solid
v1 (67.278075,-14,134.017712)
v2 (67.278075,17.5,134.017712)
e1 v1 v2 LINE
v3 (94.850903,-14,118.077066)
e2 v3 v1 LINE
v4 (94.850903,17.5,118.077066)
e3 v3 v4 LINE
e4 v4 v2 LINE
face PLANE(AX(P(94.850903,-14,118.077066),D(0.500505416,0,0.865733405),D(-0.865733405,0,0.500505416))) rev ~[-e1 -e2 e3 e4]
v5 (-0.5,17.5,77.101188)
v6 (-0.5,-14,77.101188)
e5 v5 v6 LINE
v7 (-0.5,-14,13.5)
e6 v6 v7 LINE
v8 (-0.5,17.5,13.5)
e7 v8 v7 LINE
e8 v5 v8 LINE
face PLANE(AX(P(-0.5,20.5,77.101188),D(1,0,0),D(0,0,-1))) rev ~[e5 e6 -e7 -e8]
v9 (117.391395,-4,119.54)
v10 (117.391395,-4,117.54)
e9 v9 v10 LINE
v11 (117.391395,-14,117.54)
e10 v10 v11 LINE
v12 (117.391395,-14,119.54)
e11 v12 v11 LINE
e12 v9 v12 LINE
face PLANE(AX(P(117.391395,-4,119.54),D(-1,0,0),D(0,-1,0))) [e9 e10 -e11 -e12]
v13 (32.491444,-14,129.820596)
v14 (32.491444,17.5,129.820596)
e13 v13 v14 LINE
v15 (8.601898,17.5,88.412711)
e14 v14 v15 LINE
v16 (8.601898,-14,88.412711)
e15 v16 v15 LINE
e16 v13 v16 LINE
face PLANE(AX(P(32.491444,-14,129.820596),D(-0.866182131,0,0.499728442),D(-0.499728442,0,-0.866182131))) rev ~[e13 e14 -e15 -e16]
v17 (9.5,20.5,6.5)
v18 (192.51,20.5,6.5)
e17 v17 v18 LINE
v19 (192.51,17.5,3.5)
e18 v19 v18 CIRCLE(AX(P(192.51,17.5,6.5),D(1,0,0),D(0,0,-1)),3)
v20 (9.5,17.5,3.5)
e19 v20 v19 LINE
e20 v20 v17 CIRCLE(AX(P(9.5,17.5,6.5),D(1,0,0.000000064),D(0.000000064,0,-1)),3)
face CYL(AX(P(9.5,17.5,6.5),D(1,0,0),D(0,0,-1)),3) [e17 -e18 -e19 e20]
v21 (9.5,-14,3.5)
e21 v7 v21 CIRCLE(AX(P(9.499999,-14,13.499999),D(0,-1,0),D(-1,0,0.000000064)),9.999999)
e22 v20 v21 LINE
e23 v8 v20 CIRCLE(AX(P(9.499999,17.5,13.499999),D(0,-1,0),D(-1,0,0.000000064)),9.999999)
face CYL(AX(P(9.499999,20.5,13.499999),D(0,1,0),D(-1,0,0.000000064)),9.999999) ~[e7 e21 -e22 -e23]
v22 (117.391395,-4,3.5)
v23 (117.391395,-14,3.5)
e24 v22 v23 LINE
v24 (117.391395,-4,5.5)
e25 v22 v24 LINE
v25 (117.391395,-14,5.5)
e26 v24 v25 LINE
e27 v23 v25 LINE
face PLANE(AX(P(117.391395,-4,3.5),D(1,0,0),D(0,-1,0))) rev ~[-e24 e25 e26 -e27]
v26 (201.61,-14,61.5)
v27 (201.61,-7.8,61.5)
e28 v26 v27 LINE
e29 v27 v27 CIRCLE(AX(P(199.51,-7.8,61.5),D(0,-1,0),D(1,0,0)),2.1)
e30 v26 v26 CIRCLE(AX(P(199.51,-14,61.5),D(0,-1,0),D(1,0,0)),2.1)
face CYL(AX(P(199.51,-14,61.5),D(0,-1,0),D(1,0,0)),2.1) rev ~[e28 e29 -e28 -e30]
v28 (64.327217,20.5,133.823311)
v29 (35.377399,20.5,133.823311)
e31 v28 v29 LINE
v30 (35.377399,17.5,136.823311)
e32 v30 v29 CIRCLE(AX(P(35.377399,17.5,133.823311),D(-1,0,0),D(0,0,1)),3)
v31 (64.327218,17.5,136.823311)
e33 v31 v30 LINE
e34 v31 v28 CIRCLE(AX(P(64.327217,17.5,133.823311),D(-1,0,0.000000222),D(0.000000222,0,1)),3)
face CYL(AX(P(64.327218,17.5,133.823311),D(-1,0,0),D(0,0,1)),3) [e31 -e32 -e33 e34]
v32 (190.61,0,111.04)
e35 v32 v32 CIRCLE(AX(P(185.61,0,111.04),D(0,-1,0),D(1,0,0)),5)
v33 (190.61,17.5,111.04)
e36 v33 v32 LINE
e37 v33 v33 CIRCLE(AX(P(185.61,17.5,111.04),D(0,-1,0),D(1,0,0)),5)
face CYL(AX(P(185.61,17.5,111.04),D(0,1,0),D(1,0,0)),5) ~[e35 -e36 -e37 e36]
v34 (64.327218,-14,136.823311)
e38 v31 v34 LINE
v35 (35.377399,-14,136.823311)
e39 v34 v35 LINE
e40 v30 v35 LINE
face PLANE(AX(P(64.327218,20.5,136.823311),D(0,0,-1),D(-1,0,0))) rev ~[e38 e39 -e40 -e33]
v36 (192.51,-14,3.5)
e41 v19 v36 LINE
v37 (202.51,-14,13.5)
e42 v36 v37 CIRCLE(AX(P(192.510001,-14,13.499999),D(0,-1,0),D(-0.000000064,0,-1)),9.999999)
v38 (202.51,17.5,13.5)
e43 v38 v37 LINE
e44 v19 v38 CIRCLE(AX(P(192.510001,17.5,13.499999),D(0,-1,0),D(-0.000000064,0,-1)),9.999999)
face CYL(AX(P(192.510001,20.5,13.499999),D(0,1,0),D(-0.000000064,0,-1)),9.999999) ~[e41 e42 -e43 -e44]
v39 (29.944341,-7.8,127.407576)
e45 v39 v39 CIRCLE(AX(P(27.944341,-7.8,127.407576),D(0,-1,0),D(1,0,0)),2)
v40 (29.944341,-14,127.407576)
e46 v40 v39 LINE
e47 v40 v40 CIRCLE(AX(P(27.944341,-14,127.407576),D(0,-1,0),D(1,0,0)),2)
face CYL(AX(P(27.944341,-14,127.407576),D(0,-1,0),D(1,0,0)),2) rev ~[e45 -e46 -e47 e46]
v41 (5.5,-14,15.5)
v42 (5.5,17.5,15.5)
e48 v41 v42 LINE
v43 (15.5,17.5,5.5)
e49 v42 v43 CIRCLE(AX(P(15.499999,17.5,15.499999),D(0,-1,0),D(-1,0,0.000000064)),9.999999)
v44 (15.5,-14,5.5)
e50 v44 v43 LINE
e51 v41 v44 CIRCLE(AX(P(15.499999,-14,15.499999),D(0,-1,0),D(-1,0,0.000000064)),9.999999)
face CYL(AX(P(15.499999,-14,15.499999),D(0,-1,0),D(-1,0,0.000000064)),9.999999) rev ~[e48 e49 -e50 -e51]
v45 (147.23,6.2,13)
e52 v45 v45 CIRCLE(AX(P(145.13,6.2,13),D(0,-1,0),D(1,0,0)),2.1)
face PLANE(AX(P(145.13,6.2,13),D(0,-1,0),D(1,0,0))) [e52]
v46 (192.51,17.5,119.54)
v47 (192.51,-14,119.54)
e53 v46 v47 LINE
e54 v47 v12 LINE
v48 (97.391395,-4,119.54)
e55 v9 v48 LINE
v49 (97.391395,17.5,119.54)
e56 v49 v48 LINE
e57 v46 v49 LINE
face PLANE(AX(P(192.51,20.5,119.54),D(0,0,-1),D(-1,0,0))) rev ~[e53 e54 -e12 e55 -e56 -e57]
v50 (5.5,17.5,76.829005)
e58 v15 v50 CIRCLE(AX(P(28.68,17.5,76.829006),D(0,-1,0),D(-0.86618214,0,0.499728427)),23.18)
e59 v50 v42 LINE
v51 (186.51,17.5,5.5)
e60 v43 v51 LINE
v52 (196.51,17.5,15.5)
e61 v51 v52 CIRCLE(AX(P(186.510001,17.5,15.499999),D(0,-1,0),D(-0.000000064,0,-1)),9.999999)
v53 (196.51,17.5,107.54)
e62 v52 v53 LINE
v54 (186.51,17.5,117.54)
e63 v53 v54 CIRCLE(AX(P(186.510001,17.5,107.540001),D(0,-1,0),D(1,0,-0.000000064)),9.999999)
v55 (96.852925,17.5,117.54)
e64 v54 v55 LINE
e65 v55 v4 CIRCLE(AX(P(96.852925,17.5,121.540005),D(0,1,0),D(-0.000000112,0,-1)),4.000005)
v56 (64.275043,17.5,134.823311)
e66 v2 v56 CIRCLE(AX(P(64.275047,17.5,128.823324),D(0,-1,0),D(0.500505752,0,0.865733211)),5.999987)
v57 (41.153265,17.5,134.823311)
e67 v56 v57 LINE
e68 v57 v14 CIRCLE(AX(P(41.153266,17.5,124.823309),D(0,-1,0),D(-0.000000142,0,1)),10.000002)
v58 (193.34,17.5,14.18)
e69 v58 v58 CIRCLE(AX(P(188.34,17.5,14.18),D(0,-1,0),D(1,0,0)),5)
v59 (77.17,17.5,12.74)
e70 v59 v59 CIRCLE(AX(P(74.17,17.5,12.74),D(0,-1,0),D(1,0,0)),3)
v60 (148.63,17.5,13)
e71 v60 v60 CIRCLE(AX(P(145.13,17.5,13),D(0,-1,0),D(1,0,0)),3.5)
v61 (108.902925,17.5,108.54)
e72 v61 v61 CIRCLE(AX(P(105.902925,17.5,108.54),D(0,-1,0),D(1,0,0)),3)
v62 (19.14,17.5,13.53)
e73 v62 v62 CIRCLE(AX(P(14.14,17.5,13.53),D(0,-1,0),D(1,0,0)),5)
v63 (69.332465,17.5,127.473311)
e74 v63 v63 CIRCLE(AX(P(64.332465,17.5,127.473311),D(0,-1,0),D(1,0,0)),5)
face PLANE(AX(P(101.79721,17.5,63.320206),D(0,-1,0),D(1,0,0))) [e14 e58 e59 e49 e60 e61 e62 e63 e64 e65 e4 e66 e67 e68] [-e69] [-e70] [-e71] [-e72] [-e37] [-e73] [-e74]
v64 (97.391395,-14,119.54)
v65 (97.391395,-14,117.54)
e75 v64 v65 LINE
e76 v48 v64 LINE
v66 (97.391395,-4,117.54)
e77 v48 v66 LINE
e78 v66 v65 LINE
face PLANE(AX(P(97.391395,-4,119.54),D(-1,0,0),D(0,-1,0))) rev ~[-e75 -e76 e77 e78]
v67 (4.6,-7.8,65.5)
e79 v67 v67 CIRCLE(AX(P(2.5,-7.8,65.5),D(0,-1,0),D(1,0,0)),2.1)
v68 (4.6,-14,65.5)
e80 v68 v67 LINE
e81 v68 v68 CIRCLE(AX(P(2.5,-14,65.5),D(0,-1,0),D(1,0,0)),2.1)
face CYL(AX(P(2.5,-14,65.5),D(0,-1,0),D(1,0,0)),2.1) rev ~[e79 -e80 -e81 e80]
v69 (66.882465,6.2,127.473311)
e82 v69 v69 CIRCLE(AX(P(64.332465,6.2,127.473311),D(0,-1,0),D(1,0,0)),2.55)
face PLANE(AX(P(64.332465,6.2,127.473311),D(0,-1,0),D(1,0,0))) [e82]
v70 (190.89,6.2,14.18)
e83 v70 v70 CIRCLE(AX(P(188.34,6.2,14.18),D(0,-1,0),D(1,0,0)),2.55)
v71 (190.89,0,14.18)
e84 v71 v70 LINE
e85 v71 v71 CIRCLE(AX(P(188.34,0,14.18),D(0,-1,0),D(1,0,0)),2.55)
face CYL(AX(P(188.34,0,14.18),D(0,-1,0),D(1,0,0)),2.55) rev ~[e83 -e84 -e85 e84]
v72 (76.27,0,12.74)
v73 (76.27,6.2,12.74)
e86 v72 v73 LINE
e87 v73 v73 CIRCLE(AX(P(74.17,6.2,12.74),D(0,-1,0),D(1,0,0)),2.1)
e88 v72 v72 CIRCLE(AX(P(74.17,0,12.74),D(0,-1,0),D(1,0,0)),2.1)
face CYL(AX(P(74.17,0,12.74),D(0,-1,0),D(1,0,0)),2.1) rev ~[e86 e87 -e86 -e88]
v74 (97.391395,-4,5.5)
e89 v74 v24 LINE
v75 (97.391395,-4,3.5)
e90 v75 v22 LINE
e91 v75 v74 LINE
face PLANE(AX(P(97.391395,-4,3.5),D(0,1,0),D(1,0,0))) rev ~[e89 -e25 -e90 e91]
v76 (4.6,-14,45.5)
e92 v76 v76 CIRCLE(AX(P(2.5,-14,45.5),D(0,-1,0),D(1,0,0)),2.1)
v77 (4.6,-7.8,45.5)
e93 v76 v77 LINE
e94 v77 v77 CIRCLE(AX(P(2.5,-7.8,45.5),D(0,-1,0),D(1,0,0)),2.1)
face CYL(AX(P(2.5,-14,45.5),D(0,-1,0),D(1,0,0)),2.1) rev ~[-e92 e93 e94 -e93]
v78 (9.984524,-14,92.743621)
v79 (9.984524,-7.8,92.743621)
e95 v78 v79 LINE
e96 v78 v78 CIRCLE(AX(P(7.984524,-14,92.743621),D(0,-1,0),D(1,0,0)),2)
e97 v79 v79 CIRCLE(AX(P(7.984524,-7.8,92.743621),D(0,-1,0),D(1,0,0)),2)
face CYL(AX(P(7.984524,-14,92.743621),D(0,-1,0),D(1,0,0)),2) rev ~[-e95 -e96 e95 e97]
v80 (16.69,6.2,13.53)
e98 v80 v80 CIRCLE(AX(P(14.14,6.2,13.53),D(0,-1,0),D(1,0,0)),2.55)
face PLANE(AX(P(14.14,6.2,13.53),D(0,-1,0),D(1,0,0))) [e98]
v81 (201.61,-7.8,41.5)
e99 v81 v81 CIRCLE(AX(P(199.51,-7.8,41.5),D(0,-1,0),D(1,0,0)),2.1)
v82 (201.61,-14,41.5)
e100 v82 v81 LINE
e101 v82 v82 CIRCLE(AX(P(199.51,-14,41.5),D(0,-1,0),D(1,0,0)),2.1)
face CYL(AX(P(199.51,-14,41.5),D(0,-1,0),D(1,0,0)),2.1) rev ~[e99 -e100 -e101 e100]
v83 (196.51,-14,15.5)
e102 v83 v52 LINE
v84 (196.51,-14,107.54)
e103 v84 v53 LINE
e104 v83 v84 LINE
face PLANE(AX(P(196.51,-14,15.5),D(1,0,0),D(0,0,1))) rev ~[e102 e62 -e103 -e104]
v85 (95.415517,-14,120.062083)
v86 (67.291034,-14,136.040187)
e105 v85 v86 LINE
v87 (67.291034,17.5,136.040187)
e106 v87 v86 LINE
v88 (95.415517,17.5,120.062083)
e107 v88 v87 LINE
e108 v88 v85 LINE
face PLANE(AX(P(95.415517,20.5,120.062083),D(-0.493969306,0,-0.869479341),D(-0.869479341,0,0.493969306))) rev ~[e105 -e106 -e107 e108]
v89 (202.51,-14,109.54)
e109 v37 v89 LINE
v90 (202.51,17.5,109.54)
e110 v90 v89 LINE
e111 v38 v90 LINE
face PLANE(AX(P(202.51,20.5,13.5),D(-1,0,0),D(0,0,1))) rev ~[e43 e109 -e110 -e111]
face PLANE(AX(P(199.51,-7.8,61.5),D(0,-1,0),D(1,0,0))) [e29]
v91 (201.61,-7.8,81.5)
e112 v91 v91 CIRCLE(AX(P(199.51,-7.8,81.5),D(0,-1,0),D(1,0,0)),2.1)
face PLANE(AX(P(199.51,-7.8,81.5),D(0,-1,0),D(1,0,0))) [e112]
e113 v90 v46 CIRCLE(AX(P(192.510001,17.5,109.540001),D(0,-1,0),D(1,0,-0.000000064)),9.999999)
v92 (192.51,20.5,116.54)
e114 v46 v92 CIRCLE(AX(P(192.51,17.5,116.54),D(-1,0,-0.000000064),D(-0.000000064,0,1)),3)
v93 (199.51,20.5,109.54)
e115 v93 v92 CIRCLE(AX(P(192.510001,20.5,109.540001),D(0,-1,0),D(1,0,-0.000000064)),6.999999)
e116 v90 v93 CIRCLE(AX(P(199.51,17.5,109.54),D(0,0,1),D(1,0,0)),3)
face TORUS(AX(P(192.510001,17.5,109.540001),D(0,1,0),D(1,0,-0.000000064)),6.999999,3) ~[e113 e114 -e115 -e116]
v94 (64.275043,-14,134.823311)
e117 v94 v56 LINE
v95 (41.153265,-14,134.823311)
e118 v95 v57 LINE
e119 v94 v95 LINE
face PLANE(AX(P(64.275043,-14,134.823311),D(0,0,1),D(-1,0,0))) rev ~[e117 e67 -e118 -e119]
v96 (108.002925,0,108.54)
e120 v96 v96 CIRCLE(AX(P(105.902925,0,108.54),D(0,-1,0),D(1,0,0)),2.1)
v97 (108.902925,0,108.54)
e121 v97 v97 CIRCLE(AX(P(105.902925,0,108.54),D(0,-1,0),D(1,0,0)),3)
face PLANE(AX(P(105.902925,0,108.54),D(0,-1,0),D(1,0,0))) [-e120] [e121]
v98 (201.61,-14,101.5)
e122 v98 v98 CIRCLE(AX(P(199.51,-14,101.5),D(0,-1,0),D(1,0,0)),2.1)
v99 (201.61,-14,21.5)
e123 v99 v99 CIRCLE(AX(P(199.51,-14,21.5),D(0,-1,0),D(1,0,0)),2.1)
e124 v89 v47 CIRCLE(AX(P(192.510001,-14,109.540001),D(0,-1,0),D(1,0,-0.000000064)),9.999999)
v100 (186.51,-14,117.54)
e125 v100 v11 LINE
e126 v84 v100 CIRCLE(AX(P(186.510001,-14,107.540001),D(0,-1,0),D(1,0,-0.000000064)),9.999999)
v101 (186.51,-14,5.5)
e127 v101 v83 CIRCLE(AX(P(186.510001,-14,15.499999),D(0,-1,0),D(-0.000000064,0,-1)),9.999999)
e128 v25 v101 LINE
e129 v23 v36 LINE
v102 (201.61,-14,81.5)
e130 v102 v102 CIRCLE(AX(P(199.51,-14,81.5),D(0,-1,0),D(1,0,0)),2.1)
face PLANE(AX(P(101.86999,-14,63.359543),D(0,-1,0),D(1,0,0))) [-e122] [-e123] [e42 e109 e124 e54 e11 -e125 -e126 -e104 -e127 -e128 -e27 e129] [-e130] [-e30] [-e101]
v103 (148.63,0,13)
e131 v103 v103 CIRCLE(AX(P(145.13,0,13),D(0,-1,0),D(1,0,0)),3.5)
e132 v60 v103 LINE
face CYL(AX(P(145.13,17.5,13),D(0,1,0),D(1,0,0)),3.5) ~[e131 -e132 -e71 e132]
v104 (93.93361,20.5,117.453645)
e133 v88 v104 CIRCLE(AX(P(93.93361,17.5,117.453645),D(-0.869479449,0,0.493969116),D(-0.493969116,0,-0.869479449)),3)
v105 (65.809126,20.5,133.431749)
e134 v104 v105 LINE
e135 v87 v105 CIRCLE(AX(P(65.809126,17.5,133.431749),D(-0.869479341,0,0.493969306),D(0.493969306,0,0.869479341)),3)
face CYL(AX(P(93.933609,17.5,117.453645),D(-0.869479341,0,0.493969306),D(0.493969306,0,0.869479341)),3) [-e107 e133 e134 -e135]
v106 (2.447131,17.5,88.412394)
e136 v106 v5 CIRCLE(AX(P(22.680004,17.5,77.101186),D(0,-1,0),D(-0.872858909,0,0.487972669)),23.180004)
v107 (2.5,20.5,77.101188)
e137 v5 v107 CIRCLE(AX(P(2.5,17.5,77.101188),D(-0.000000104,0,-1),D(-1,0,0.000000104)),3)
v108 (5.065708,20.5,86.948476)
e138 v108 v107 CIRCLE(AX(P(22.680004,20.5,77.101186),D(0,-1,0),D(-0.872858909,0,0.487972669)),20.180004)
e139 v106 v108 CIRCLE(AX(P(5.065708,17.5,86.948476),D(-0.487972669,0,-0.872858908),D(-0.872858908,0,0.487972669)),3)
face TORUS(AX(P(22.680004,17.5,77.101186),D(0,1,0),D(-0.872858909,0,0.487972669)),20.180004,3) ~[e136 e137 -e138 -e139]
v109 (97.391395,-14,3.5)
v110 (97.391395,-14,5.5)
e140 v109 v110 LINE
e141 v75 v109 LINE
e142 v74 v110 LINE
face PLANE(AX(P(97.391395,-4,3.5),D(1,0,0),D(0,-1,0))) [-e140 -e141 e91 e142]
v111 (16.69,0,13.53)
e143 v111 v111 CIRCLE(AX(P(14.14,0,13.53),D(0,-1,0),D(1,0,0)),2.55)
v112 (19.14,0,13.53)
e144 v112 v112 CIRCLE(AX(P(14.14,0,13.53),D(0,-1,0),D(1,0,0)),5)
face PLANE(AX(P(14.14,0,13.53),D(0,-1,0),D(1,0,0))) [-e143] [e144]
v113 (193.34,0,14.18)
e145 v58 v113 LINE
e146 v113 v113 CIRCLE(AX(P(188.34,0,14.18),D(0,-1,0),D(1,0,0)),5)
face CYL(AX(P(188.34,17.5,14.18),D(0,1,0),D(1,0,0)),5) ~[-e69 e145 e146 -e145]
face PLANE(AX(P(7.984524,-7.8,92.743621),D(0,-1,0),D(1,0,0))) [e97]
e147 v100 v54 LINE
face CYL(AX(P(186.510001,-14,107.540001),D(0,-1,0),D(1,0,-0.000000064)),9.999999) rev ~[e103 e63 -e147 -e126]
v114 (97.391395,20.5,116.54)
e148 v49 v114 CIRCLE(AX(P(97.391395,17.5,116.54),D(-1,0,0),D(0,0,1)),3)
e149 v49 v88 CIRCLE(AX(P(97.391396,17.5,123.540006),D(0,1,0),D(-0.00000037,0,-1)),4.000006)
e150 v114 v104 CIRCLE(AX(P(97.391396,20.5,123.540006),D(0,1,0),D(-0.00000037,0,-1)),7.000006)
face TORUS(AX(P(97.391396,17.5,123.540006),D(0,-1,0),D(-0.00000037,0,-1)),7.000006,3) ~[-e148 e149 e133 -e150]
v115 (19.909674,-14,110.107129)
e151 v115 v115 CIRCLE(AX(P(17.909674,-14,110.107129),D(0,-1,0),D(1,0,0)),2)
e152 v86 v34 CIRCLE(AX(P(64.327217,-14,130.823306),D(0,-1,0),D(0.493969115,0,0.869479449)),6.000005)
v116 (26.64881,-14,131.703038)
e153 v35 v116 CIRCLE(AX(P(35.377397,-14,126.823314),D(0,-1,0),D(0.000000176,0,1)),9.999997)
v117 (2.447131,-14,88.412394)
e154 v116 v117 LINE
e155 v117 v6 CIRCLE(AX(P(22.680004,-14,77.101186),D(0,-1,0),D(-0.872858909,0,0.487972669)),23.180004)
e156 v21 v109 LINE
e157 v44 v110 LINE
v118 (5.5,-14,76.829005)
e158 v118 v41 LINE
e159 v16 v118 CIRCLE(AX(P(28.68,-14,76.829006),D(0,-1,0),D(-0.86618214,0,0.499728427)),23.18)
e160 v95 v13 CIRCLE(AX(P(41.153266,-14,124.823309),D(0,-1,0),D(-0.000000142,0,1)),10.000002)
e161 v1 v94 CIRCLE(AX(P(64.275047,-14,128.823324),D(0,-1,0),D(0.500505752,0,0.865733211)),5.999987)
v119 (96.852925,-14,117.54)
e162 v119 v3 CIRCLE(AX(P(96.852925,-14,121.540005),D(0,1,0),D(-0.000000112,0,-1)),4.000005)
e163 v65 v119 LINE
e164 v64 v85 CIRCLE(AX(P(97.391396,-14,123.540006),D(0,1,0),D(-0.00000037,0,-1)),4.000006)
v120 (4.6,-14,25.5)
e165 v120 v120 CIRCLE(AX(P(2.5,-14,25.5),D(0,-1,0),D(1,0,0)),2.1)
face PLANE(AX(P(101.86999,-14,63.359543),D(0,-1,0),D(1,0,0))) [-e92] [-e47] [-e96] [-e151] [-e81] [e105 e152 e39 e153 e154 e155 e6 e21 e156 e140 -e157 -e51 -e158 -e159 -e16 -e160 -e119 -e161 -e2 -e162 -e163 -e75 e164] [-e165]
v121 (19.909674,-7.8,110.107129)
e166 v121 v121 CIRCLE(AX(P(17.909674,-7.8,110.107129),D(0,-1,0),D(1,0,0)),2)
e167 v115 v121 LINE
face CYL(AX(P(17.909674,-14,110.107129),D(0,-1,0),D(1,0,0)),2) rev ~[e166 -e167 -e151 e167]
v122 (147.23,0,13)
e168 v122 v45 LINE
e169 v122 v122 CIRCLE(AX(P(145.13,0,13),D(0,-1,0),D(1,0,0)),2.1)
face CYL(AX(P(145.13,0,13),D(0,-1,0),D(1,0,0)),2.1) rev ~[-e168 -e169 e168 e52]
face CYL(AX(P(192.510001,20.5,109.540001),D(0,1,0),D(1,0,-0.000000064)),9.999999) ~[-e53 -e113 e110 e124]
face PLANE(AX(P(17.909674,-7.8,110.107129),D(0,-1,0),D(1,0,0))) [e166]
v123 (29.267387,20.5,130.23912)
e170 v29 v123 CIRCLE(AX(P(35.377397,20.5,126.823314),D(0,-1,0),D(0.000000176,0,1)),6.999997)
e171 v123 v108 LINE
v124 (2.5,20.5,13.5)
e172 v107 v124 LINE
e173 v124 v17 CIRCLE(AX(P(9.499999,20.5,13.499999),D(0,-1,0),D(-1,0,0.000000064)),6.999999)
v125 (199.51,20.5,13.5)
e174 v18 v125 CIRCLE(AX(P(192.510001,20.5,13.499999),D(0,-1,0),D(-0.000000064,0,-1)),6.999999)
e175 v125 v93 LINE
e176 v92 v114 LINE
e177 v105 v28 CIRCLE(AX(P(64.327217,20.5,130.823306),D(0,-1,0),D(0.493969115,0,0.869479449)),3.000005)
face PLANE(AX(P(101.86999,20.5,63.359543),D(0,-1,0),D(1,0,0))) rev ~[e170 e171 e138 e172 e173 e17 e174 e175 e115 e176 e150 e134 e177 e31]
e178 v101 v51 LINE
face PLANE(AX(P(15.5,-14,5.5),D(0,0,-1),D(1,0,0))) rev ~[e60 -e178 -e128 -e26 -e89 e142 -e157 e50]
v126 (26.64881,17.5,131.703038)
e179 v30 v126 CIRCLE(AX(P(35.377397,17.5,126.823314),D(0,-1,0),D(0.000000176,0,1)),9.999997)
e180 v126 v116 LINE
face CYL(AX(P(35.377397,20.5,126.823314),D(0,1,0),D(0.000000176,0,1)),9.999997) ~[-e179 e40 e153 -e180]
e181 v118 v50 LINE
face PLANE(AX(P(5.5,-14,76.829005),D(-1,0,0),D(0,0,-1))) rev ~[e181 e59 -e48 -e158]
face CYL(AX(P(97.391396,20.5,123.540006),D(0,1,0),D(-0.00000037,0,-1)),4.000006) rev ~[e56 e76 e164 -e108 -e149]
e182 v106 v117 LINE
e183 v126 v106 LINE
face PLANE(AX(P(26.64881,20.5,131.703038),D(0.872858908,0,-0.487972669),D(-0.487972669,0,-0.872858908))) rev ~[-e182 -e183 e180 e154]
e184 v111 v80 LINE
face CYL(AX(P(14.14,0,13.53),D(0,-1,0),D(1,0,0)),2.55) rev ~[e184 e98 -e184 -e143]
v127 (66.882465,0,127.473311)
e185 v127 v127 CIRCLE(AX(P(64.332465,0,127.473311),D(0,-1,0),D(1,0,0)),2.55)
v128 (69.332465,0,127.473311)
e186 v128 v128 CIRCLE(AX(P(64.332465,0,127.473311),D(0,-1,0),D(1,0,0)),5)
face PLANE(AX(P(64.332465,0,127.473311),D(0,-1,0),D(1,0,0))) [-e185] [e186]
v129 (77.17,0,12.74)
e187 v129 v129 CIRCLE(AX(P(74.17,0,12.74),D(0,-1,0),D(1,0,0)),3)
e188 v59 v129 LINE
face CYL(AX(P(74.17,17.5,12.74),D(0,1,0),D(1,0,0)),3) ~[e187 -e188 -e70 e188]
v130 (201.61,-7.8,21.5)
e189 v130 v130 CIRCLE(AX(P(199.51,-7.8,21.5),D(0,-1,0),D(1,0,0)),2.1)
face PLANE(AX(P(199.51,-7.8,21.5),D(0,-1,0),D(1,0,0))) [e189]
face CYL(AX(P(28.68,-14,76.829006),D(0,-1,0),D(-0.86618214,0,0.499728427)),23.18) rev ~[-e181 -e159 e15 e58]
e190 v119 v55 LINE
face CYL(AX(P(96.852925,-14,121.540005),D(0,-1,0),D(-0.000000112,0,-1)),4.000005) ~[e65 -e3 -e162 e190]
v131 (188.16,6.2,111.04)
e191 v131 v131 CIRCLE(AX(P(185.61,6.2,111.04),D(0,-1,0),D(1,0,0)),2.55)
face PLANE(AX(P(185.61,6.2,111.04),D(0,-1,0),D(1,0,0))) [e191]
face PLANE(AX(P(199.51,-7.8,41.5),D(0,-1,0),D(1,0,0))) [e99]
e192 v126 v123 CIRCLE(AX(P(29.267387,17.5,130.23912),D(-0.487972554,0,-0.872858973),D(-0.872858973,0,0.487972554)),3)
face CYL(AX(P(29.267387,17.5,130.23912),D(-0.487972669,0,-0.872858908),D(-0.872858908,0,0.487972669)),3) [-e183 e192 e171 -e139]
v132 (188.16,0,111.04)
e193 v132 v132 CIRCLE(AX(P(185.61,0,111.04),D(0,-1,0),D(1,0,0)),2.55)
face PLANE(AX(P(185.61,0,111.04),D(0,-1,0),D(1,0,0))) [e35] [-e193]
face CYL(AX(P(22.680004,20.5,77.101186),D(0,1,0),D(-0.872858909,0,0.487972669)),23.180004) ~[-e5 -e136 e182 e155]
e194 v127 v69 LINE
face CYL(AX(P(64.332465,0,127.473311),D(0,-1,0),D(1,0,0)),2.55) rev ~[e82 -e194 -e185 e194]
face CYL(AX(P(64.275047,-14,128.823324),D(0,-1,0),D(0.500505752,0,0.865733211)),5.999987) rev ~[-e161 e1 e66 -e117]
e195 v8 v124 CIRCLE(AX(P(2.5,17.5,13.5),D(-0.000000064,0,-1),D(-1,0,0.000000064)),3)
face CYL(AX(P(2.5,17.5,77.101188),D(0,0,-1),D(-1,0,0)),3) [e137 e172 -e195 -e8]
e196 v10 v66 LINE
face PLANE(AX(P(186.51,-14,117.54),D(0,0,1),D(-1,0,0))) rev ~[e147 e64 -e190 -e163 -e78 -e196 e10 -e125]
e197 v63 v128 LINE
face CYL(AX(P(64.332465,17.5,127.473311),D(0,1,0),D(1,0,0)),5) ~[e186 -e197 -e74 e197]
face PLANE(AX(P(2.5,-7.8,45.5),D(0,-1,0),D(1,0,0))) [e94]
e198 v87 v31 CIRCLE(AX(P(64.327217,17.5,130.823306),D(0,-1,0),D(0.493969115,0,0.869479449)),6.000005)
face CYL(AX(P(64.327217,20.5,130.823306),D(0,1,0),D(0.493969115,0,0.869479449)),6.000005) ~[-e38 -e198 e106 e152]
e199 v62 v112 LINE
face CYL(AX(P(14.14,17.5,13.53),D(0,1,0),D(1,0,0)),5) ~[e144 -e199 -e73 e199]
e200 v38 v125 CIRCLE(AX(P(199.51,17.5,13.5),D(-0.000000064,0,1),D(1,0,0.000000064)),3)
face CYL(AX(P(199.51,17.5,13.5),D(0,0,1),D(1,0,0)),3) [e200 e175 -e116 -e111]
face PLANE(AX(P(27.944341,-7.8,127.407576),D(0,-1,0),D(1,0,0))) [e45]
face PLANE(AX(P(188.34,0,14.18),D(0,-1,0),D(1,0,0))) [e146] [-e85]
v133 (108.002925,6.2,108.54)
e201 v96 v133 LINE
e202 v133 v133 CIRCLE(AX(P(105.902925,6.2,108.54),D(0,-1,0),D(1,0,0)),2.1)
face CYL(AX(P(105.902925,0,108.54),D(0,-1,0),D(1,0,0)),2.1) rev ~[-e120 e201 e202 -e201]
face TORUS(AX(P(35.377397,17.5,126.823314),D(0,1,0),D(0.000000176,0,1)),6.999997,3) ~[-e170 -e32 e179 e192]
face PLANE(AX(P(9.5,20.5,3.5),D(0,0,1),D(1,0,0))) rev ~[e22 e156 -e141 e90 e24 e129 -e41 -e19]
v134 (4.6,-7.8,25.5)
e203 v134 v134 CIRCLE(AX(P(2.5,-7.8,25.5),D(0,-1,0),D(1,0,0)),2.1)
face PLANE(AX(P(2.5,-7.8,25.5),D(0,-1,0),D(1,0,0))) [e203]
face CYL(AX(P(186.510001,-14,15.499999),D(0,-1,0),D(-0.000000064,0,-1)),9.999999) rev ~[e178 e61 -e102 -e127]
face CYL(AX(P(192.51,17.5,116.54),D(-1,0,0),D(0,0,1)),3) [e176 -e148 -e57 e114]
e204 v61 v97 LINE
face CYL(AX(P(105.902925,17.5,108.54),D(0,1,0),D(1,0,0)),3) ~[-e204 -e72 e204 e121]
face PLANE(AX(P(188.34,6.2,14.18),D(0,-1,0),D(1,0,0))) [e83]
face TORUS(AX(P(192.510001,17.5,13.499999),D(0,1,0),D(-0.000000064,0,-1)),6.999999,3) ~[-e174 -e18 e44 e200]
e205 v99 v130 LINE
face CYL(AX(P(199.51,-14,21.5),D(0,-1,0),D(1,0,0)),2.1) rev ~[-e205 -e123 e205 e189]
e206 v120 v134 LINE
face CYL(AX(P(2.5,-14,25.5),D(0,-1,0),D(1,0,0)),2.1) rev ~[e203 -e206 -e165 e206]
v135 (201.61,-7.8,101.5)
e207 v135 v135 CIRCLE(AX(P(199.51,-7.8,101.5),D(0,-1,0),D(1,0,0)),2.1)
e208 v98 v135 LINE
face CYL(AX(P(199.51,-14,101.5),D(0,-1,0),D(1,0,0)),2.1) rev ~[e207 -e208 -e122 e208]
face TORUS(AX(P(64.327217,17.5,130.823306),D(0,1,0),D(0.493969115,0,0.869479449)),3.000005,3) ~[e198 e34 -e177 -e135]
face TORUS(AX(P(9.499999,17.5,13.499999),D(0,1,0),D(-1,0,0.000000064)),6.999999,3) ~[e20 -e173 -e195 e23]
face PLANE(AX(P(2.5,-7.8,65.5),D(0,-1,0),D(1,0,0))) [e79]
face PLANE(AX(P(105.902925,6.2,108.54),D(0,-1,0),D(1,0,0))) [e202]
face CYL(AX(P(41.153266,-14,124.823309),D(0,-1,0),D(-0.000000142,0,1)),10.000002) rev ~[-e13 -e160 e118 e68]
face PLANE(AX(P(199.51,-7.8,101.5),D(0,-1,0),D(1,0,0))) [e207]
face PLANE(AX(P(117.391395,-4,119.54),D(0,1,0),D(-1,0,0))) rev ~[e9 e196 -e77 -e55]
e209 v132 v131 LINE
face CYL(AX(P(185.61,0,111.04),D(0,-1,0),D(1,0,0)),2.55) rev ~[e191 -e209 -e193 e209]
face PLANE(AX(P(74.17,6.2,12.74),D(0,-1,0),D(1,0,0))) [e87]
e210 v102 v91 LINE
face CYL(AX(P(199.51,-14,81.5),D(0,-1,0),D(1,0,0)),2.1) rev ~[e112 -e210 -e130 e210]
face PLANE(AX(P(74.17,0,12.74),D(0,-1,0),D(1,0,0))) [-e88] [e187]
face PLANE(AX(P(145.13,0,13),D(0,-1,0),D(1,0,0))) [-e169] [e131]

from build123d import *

# Parameters (mm, degrees)
PAD024_DEPTH    = 34.5
POCKET023_DEPTH = 31.5
SKETCH055_R     = 2.1
SKETCH055_R_2   = 2
POCKET024_DEPTH = 6.2
SKETCH057_R     = 3
SKETCH057_R_2   = 5
SKETCH057_R_3   = 3.5
PAD025_DEPTH    = 17.5
SKETCH058_R     = 2.55
SKETCH058_R_2   = 2.1
POCKET026_DEPTH = 6.2
FILLET001_R     = 3
SKETCH059_W     = 20
SKETCH059_H     = 10
POCKET027_DEPTH = 5
SKETCH060_W     = 20
SKETCH060_H     = 10
POCKET028_DEPTH = 5


with BuildPart() as part:
    # Sketch052 → Pad024 (new body)
    with BuildSketch(Plane.XZ):
        with BuildLine():
            ThreePointArc((-0.5, 13.5), (2.428932, 6.428932), (9.5, 3.5))
            Line((9.5, 3.5), (192.51, 3.5))
            ThreePointArc((192.51, 3.5), (199.581068, 6.428932), (202.51, 13.5))
            Line((202.51, 13.5), (202.51, 109.54))
            ThreePointArc((202.51, 109.54), (199.581068, 116.611068), (192.51, 119.54))
            Line((192.51, 119.54), (97.391395, 119.54))
            ThreePointArc((97.391395, 119.54), (96.36955, 119.672723), (95.415517, 120.062083))
            Line((95.415517, 120.062083), (67.291034, 136.040187))
            ThreePointArc((67.291034, 136.040187), (65.859984, 136.624227), (64.327218, 136.823311))
            Line((64.327218, 136.823311), (35.377399, 136.823311))
            ThreePointArc((35.377399, 136.823311), (30.31762, 135.448776), (26.64881, 131.703038))
            Line((26.64881, 131.703038), (2.447131, 88.412394))
            ThreePointArc((2.447131, 88.412394), (0.24888, 82.945607), (-0.5, 77.101188))
            Line((-0.5, 77.101188), (-0.5, 13.5))
        make_face()
    extrude(amount=PAD024_DEPTH)

    # Sketch054 (on Face16 of Pad024) → Pocket023 (cut)
    with BuildSketch(Plane.XZ.offset(34.5)):
        with BuildLine():
            ThreePointArc((5.5, 15.5), (8.428932, 8.428932), (15.5, 5.5))
            Line((15.5, 5.5), (186.51, 5.5))
            ThreePointArc((186.51, 5.5), (193.581068, 8.428932), (196.51, 15.5))
            Line((196.51, 15.5), (196.51, 107.54))
            ThreePointArc((196.51, 107.54), (193.581068, 114.611068), (186.51, 117.54))
            Line((186.51, 117.54), (96.852925, 117.54))
            ThreePointArc((96.852925, 117.54), (95.816521, 117.676599), (94.850903, 118.077066))
            Line((94.850903, 118.077066), (67.278075, 134.017712))
            ThreePointArc((67.278075, 134.017712), (65.829649, 134.618413), (64.275043, 134.823311))
            Line((64.275043, 134.823311), (41.153265, 134.823311))
            ThreePointArc((41.153265, 134.823311), (36.151908, 133.482781), (32.491444, 129.820596))
            Line((32.491444, 129.820596), (8.601898, 88.412711))
            ThreePointArc((8.601898, 88.412711), (6.288899, 82.824921), (5.5, 76.829005))
            Line((5.5, 76.829005), (5.5, 15.5))
        make_face()
    extrude(amount=-POCKET023_DEPTH, mode=Mode.SUBTRACT)

    # Sketch055 (on Face5 of Pocket023) → Pocket024 (cut)
    with BuildSketch(Plane.XZ.offset(34.5)):
        with Locations((199.51, 21.5)):
            Circle(SKETCH055_R)
        with Locations((199.51, 101.5)):
            Circle(SKETCH055_R)
        with Locations((199.51, 41.5)):
            Circle(SKETCH055_R)
        with Locations((199.51, 81.5)):
            Circle(SKETCH055_R)
        with Locations((199.51, 61.5)):
            Circle(SKETCH055_R)
        with Locations((2.5, 25.5)):
            Circle(SKETCH055_R)
        with Locations((2.5, 45.5)):
            Circle(SKETCH055_R)
        with Locations((2.5, 65.5)):
            Circle(SKETCH055_R)
        with Locations((7.984524, 92.743621)):
            Circle(SKETCH055_R_2)
        with Locations((17.909674, 110.107129)):
            Circle(SKETCH055_R_2)
        with Locations((27.944341, 127.407576)):
            Circle(SKETCH055_R_2)
    extrude(amount=-POCKET024_DEPTH, mode=Mode.SUBTRACT)

    # Sketch057 (on Face51 of Pocket024) → Pad025 (join)
    with BuildSketch(Plane.XZ.offset(3)):
        with Locations((74.17, 12.74)):
            Circle(SKETCH057_R)
        with Locations((64.332465, 127.473311)):
            Circle(SKETCH057_R_2)
        with Locations((105.902925, 108.54)):
            Circle(SKETCH057_R)
        with Locations((145.13, 13)):
            Circle(SKETCH057_R_3)
        with Locations((188.34, 14.18)):
            Circle(SKETCH057_R_2)
        with Locations((185.61, 111.04)):
            Circle(SKETCH057_R_2)
        with Locations((14.14, 13.53)):
            Circle(SKETCH057_R_2)
    extrude(amount=PAD025_DEPTH)

    # Sketch058 (on Face63 of Pad025) → Pocket026 (cut)
    with BuildSketch(Plane.XZ.offset(20.5)):
        with Locations((64.332465, 127.473311)):
            Circle(SKETCH058_R)
        with Locations((105.902925, 108.54)):
            Circle(SKETCH058_R_2)
        with Locations((14.14, 13.53)):
            Circle(SKETCH058_R)
        with Locations((74.17, 12.74)):
            Circle(SKETCH058_R_2)
        with Locations((145.13, 13)):
            Circle(SKETCH058_R_2)
        with Locations((188.34, 14.18)):
            Circle(SKETCH058_R)
        with Locations((185.61, 111.04)):
            Circle(SKETCH058_R)
    extrude(amount=-POCKET026_DEPTH, mode=Mode.SUBTRACT)

    # Fillet001
    fillet001_edges = [part.edges().sort_by_distance(p)[0] for p in [
        (2.428932, 0, 6.428932),
        (101.005, 0, 3.5),
        (199.581068, 0, 6.428932),
        (202.51, 0, 61.52),
        (199.581068, 0, 116.611068),
        (144.950697, 0, 119.54),
        (96.36955, 0, 119.672723),
        (81.353275, 0, 128.051135),
        (65.859984, 0, 136.624227),
        (49.852308, 0, 136.823311),
        (30.31762, 0, 135.448776),
        (14.54797, 0, 110.057716),
        (0.24888, 0, 82.945607),
        (-0.5, 0, 45.300594),
    ]]
    fillet(fillet001_edges, radius=FILLET001_R)

    # Sketch059 (on Face16 of Fillet001) → Pocket027 (cut)
    with BuildSketch(Plane(origin=(0, 0, 119.54), x_dir=(-1, 0, 0), z_dir=(0, 0, 1))):
        with Locations((-107.391395, 29.5)):
            Rectangle(SKETCH059_W, SKETCH059_H)
    extrude(amount=-POCKET027_DEPTH, mode=Mode.SUBTRACT)

    # Sketch060 (on Face5 of Pocket027) → Pocket028 (cut)
    with BuildSketch(Plane(origin=(0, 0, 3.5), x_dir=(1, 0, 0), z_dir=(0, 0, -1))):
        with Locations((107.391395, 29.5)):
            Rectangle(SKETCH060_W, SKETCH060_H)
    extrude(amount=-POCKET028_DEPTH, mode=Mode.SUBTRACT)


with BuildPart() as part_1:
    # Body006 placement: moved
    add(part.part.moved(Location((0, 20.5, 0))))


solid = part_1.part
